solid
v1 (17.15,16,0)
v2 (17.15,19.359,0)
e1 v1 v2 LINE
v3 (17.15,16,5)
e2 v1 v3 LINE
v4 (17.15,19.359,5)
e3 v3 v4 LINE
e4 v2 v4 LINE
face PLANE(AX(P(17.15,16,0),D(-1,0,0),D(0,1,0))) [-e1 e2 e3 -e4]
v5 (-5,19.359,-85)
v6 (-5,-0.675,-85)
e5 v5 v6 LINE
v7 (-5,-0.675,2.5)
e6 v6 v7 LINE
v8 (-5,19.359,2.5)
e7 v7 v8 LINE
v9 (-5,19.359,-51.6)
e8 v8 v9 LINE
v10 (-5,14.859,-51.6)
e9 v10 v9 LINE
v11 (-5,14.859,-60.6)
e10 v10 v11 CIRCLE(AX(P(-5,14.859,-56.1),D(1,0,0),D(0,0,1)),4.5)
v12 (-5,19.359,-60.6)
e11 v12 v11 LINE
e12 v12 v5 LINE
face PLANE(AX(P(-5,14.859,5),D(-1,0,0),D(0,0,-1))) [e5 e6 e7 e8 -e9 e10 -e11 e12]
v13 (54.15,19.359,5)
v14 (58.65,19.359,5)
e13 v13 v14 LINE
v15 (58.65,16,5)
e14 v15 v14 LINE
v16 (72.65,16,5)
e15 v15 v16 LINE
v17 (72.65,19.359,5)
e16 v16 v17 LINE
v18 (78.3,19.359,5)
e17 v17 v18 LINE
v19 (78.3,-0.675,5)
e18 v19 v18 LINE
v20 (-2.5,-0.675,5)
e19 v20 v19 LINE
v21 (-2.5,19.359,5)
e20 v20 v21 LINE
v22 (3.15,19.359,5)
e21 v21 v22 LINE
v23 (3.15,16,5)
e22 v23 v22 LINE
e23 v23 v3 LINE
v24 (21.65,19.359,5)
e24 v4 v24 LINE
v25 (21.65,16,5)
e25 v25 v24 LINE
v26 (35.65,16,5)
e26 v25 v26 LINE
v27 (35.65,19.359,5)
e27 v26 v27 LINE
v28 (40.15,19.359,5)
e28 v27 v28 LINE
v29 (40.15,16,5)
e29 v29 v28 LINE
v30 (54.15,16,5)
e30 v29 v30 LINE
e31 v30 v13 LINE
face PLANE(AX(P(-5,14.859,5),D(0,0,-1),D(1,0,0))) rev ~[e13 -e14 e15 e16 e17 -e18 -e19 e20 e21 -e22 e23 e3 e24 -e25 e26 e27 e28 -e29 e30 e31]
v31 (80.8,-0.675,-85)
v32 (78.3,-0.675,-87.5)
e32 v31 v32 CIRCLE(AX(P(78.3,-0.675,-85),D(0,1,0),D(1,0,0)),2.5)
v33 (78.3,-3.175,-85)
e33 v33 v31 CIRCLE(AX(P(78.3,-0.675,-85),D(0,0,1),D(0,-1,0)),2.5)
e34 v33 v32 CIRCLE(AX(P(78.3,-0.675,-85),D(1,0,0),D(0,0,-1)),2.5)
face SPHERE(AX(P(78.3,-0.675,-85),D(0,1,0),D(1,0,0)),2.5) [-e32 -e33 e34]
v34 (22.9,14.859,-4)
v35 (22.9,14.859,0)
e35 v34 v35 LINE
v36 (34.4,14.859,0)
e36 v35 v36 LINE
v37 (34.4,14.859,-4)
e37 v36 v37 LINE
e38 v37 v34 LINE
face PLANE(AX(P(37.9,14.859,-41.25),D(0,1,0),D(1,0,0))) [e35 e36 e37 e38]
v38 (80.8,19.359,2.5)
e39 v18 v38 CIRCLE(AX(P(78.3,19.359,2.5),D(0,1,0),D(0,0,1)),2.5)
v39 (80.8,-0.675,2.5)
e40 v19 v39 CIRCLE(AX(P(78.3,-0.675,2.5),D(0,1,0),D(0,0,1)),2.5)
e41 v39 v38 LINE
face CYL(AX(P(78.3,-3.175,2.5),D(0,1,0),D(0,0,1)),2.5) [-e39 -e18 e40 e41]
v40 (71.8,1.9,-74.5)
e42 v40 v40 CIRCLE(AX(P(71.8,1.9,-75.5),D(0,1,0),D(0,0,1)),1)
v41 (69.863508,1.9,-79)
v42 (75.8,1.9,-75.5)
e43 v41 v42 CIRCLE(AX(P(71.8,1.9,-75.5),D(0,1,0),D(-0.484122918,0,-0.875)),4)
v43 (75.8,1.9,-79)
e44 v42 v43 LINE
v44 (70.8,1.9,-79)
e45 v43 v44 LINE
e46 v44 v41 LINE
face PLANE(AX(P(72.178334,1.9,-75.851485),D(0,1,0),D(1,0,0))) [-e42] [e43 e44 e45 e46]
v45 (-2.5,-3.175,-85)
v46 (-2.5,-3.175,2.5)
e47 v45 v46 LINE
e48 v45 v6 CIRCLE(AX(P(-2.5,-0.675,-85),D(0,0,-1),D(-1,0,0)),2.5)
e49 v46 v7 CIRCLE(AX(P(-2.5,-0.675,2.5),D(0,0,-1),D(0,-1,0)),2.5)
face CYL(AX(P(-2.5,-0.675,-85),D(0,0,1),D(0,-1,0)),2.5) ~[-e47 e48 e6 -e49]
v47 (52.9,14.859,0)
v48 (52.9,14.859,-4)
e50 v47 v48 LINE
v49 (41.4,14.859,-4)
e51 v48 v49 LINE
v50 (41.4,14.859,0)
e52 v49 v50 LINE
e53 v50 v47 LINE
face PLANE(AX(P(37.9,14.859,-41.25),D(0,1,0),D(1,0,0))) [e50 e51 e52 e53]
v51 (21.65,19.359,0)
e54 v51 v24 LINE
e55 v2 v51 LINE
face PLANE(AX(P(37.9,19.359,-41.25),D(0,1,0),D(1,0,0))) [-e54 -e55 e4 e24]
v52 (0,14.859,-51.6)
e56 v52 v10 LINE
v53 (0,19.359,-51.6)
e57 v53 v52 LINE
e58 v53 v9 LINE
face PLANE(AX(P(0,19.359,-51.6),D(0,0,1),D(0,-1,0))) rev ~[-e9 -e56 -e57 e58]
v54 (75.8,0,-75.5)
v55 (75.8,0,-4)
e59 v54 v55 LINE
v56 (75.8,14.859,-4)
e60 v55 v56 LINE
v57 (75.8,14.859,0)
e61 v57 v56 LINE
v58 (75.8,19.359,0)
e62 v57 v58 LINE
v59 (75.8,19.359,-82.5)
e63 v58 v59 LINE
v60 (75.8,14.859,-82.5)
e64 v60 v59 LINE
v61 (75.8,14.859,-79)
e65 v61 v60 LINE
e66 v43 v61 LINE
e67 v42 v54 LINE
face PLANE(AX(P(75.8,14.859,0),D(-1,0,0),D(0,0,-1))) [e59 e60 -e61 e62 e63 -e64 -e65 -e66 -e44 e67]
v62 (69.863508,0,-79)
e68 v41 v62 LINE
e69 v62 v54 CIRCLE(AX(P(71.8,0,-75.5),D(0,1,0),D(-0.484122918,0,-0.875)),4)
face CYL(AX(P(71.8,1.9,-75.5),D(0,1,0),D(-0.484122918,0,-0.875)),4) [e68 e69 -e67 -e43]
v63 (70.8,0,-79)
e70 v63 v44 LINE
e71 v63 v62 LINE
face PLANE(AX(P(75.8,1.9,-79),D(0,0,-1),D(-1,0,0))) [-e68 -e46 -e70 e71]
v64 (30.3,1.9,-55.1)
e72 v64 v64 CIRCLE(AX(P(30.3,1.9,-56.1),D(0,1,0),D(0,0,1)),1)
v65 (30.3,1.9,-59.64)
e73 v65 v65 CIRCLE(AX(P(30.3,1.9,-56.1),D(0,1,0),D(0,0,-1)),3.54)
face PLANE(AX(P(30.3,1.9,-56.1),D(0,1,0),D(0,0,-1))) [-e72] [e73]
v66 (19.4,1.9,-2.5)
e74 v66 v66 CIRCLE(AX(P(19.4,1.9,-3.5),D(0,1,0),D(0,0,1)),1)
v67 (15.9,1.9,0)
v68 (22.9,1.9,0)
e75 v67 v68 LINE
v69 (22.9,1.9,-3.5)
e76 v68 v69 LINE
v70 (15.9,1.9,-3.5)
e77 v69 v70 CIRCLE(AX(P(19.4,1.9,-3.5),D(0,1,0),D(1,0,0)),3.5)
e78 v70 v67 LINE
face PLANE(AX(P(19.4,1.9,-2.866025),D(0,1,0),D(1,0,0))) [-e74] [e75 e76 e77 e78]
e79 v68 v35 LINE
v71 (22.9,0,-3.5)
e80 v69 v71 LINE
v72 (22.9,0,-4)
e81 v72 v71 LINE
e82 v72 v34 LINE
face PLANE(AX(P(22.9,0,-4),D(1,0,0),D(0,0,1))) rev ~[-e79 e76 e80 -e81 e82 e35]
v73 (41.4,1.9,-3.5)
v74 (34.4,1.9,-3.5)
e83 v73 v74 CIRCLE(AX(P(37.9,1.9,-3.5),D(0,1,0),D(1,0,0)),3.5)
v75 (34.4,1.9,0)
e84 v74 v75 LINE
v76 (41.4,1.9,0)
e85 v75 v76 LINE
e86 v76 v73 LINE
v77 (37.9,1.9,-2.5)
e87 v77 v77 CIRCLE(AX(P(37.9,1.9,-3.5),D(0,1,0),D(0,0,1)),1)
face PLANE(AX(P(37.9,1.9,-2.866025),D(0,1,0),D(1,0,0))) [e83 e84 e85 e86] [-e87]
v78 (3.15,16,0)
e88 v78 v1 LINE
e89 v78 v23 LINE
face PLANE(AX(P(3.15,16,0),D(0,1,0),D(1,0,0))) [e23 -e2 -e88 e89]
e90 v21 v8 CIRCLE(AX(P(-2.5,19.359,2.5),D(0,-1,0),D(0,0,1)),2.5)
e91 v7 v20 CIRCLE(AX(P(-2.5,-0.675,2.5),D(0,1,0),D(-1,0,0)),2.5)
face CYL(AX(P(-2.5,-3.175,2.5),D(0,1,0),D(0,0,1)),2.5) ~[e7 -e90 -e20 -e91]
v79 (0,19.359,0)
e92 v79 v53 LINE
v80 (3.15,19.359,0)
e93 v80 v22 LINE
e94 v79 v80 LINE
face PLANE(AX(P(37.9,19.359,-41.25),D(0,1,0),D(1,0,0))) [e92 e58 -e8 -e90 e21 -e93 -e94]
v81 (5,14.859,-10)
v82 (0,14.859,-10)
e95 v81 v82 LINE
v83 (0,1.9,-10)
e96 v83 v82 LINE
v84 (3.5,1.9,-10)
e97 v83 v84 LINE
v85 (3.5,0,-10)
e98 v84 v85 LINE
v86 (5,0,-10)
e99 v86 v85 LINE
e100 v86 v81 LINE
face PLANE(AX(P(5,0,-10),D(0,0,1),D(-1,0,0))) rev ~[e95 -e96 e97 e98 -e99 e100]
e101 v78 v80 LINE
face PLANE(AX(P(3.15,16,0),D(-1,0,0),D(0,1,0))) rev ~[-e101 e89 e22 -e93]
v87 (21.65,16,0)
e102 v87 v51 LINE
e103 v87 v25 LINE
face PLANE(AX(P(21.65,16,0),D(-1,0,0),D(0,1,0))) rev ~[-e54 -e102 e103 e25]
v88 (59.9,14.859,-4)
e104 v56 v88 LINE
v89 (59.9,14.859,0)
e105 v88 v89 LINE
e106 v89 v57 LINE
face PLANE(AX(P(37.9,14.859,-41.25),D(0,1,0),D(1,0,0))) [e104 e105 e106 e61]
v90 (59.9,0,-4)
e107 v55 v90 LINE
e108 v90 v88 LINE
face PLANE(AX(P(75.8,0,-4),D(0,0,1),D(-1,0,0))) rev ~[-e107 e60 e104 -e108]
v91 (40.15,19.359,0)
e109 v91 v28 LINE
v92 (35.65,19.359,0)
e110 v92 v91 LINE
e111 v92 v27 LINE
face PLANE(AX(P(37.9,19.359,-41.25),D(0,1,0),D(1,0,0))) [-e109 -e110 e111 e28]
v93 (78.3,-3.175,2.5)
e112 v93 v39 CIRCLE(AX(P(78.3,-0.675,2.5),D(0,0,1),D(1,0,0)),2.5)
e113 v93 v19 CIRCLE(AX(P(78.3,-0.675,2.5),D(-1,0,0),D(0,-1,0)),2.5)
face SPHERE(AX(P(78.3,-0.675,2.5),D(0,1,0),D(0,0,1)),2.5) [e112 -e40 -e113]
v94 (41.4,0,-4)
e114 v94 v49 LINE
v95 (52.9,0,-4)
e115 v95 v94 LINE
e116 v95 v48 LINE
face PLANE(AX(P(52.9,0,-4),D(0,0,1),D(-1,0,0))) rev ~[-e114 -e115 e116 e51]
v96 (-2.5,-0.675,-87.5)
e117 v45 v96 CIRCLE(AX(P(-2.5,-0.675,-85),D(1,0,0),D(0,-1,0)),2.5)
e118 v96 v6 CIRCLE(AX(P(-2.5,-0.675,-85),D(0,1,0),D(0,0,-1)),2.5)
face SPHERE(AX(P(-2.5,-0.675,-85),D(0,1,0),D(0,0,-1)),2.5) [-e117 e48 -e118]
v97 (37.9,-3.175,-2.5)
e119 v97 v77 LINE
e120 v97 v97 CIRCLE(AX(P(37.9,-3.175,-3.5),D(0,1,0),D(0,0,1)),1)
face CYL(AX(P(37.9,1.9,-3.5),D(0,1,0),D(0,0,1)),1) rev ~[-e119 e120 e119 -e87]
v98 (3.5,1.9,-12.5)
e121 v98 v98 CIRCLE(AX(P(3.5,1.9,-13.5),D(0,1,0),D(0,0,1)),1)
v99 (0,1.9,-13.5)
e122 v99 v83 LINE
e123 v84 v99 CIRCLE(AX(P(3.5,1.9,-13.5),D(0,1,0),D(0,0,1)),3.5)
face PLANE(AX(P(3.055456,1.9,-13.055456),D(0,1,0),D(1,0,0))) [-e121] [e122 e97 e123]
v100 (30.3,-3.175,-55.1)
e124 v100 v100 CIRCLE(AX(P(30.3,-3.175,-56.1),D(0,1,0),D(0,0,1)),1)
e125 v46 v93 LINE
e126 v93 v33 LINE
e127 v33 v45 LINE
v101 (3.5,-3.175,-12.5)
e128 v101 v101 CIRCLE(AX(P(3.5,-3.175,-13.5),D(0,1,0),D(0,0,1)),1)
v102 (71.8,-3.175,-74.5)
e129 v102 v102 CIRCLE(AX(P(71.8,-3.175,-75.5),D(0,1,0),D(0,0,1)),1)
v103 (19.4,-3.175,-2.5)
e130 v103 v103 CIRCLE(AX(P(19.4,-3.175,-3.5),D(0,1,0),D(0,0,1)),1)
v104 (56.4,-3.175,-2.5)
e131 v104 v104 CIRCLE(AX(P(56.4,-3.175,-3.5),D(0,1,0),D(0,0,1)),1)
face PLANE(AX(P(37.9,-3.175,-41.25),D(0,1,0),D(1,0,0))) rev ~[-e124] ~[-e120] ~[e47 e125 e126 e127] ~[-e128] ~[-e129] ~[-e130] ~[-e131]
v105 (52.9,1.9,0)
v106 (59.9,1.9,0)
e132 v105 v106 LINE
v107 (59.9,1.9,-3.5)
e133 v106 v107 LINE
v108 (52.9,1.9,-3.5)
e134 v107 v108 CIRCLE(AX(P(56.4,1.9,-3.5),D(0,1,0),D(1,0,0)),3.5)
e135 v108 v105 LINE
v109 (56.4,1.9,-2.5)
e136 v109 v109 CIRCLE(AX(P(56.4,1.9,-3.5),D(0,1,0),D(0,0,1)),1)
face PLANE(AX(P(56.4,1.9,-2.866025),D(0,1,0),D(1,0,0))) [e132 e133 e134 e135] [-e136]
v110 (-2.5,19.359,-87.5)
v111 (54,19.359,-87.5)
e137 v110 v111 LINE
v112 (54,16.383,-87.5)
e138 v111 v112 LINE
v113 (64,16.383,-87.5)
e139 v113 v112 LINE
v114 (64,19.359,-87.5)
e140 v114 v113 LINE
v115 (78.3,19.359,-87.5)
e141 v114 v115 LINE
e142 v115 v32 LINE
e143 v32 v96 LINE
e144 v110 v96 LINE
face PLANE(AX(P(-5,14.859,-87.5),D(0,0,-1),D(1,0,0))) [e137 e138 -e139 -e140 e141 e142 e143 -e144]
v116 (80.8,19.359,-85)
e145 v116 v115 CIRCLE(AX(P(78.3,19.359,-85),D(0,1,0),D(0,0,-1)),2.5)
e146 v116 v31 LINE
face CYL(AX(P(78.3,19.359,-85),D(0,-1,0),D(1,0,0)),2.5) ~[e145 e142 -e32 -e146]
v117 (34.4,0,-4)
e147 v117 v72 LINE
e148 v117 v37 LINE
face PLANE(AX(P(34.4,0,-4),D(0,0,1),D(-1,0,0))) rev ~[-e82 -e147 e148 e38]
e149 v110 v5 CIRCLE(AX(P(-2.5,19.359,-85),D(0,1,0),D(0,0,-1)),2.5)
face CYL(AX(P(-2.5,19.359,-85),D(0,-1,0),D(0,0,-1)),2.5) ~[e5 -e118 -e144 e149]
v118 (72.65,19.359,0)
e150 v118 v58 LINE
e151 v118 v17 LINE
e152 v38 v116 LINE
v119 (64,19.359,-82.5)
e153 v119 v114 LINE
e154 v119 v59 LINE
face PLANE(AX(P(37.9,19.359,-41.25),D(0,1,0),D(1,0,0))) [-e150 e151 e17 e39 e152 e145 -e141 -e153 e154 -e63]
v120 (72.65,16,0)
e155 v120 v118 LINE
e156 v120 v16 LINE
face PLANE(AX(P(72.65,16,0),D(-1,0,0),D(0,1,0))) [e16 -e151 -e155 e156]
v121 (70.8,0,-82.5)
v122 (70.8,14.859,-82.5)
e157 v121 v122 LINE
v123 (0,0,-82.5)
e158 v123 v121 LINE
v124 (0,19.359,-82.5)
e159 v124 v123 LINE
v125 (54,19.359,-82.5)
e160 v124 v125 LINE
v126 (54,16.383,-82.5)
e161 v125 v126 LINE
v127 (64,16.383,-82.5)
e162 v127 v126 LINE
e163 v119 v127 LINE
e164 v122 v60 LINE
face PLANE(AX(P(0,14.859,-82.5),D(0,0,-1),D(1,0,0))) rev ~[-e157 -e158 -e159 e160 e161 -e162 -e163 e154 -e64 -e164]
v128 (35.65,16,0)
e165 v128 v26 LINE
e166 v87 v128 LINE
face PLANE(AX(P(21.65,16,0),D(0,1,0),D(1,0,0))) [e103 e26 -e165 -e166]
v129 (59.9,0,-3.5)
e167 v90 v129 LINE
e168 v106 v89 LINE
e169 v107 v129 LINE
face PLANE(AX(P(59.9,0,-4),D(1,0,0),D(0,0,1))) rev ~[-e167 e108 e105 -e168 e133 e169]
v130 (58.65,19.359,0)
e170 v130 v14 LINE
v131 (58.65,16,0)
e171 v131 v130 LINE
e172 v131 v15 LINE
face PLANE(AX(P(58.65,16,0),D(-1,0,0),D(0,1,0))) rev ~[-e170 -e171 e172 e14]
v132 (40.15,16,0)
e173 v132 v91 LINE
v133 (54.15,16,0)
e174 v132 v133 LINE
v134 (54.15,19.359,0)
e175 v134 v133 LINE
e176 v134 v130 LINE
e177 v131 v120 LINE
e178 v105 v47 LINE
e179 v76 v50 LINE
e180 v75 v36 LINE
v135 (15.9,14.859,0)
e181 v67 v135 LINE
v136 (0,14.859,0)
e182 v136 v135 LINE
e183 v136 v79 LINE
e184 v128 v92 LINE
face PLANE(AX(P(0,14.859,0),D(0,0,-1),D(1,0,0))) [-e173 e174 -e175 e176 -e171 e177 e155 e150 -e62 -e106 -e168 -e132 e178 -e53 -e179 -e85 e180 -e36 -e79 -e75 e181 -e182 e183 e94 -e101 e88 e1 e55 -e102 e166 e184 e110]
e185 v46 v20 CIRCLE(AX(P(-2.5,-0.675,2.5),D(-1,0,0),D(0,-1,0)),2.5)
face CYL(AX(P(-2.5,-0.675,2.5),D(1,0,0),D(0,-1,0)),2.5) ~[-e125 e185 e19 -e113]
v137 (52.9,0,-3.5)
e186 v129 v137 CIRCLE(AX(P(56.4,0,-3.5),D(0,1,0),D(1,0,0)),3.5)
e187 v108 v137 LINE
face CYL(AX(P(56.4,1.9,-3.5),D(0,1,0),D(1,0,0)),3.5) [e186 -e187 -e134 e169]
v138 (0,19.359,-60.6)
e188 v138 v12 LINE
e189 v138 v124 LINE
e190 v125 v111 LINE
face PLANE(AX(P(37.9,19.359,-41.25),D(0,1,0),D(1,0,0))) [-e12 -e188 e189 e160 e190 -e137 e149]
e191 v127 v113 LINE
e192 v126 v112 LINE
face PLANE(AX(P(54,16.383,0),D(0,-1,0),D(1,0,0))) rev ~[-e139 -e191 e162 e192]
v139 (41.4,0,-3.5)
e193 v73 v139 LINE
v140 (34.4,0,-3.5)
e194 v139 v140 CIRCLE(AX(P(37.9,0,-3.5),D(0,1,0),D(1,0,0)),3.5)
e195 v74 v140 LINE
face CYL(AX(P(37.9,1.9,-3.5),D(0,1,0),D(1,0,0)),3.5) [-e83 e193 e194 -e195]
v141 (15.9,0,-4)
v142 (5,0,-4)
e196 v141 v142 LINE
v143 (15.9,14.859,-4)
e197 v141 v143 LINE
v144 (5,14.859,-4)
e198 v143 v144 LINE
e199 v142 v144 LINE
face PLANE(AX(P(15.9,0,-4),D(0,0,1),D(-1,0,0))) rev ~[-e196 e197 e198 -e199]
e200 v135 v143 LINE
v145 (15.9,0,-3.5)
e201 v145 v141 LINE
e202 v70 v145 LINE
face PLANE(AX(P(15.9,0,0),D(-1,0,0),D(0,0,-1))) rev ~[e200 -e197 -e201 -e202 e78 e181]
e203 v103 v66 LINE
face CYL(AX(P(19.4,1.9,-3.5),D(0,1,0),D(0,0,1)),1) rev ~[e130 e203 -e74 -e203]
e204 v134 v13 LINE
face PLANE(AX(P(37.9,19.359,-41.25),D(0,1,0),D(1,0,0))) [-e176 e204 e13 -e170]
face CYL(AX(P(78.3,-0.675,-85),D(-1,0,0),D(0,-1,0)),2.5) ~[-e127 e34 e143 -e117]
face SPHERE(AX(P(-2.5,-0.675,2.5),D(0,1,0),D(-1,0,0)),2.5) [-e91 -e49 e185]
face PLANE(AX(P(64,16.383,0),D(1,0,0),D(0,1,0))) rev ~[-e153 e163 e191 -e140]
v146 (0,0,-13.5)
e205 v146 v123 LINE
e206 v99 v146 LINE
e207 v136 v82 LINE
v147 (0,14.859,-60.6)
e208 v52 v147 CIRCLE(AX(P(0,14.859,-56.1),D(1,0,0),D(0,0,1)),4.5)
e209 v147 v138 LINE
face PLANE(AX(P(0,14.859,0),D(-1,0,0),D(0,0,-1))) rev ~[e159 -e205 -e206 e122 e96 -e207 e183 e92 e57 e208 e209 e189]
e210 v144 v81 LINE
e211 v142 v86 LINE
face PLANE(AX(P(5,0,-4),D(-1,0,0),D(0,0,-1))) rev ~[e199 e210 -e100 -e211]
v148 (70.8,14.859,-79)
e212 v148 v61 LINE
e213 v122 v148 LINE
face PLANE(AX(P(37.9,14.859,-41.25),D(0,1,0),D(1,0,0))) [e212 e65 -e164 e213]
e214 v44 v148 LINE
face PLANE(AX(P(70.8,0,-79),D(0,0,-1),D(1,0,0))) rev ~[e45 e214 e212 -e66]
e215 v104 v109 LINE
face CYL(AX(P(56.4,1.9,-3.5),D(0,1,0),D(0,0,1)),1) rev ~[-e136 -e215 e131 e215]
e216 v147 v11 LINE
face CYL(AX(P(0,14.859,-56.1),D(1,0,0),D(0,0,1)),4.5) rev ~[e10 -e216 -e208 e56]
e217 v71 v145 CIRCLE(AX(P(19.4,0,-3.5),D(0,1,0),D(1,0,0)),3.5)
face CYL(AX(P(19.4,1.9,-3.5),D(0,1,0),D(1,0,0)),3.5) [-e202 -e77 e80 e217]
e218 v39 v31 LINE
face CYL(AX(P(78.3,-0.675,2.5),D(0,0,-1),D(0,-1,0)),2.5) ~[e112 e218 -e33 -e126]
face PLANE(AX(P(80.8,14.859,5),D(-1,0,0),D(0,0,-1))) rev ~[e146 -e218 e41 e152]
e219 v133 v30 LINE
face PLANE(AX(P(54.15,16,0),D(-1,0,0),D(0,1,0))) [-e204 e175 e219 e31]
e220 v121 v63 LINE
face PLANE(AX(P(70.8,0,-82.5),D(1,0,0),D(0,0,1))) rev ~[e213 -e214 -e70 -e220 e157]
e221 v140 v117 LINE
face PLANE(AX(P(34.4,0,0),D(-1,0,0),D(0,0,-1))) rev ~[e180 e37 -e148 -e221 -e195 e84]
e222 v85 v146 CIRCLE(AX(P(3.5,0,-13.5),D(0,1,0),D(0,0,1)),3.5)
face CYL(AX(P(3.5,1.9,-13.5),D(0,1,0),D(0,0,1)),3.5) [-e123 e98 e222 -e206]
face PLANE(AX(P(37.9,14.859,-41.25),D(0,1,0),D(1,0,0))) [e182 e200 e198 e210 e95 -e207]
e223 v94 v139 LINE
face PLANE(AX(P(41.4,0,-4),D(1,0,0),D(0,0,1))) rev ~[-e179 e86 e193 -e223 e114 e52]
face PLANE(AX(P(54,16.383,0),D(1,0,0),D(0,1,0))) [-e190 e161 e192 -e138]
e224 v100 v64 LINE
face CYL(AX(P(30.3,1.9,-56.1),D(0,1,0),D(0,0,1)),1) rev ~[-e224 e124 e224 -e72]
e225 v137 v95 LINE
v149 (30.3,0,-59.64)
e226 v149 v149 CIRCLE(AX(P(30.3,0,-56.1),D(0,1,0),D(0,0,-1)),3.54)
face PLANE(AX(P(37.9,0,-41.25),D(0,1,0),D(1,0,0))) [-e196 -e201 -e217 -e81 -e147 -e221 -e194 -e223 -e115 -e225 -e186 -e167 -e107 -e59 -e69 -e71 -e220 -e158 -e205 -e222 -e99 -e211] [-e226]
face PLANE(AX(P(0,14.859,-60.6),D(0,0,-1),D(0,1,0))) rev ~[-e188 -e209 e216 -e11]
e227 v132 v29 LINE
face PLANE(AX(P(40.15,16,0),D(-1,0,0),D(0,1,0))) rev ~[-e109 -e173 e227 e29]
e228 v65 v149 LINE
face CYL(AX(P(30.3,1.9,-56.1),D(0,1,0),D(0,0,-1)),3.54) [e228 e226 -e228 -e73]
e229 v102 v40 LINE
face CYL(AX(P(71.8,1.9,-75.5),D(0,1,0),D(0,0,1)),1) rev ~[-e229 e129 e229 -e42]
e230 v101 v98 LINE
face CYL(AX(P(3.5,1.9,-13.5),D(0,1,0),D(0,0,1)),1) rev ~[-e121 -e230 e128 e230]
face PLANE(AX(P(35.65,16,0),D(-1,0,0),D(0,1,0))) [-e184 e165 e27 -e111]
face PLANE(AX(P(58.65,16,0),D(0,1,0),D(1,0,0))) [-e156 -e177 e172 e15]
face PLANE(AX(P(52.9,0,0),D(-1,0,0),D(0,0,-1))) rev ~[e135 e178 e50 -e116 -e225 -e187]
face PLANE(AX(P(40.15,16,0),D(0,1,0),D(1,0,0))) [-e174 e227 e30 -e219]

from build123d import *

# Parameters (mm, degrees)
SKETCH1_W           = 85.8
SKETCH1_H           = 92.5
BOSS_EXTRUDE1_DEPTH = 14.859
SKETCH2_W           = 85.8
SKETCH2_H           = 92.5
SKETCH2_R           = 1
BOSS_EXTRUDE2_DEPTH = 3.175
SKETCH4_W           = 85.8
SKETCH4_H           = 92.5
SKETCH4_W_2         = 75.8
SKETCH4_H_2         = 82.5
BOSS_EXTRUDE3_DEPTH = 4.5
CUT_EXTRUDE1_DEPTH  = 121.663419813
SKETCH5_W           = 14
SKETCH5_H           = 8
CUT_EXTRUDE2_DEPTH  = 121.663419813
SKETCH6_W           = 10
SKETCH6_H           = 6
CUT_EXTRUDE3_DEPTH  = 121.663419813
BOSS_EXTRUDE4_START = 1.9
SKETCH7_R           = 3.54
SKETCH7_R_2         = 1
BOSS_EXTRUDE4_DEPTH = 1.9
FILLET1_R           = 2.5
FILLET2_R           = 2.5
FILLET3_R           = 2.5
FILLET4_R           = 2.5
FILLET5_R           = 2.5


with BuildPart() as part:
    # Sketch1 → Boss-Extrude1 (new body)
    with BuildSketch(Plane(origin=(0, 0, 0), x_dir=(1, 0, 0), z_dir=(0, 1, 0))):
        with Locations((37.9, 41.25)):
            Rectangle(SKETCH1_W, SKETCH1_H)
        Polygon((5, 4), (5, 10), (0, 10), (0, 82.5), (70.8, 82.5), (70.8, 79), (75.8, 79), (75.8, 4), (59.9, 4), (59.9, 0), (52.9, 0), (52.9, 4), (41.4, 4), (41.4, 0), (34.4, 0), (34.4, 4), (22.9, 4), (22.9, 0), (15.9, 0), (15.9, 4), align=None, mode=Mode.SUBTRACT)
    extrude(amount=BOSS_EXTRUDE1_DEPTH)

    # Sketch2 → Boss-Extrude2 (add)
    with BuildSketch(Plane(origin=(0, 0, 0), x_dir=(1, 0, 0), z_dir=(0, 1, 0))):
        with Locations((37.9, 41.25)):
            Rectangle(SKETCH2_W, SKETCH2_H)
        with Locations(Location((3.5, 13.5, 0), (0, 0, 270))):
            Circle(SKETCH2_R, mode=Mode.SUBTRACT)
        with Locations(Location((19.4, 3.5, 0), (0, 0, 270))):
            Circle(SKETCH2_R, mode=Mode.SUBTRACT)
        with Locations(Location((37.9, 3.5, 0), (0, 0, 270))):
            Circle(SKETCH2_R, mode=Mode.SUBTRACT)
        with Locations(Location((56.4, 3.5, 0), (0, 0, 270))):
            Circle(SKETCH2_R, mode=Mode.SUBTRACT)
        with Locations(Location((30.3, 56.1, 0), (0, 0, 270))):
            Circle(SKETCH2_R, mode=Mode.SUBTRACT)
        with Locations(Location((71.8, 75.5, 0), (0, 0, 270))):
            Circle(SKETCH2_R, mode=Mode.SUBTRACT)
    extrude(amount=-BOSS_EXTRUDE2_DEPTH)

    # Sketch4 → Boss-Extrude3 (add)
    with BuildSketch(Plane(origin=(0, 14.859, 0), x_dir=(1, 0, 0), z_dir=(0, 1, 0))):
        with Locations((37.9, 41.25)):
            Rectangle(SKETCH4_W, SKETCH4_H)
        with Locations((37.9, 41.25)):
            Rectangle(SKETCH4_W_2, SKETCH4_H_2, mode=Mode.SUBTRACT)
    extrude(amount=BOSS_EXTRUDE3_DEPTH)

    # Sketch3 → Cut-Extrude1 (cut, through all)
    with BuildSketch(Plane(origin=(0, 0, 0), x_dir=(0, 0, -1), z_dir=(1, 0, 0))):
        with BuildLine():
            Line((60.6, 14.859), (60.6, 19.359))
            Line((60.6, 19.359), (51.6, 19.359))
            Line((51.6, 19.359), (51.6, 14.859))
            ThreePointArc((51.6, 14.859), (56.1, 10.359), (60.6, 14.859))
        make_face()
    extrude(amount=-CUT_EXTRUDE1_DEPTH, mode=Mode.SUBTRACT)

    # Sketch5 → Cut-Extrude2 (cut, through all)
    with BuildSketch(Plane.XY):
        with Locations((10.15, 20)):
            Rectangle(SKETCH5_W, SKETCH5_H)
        with Locations((28.65, 20)):
            Rectangle(SKETCH5_W, SKETCH5_H)
        with Locations((47.15, 20)):
            Rectangle(SKETCH5_W, SKETCH5_H)
        with Locations((65.65, 20)):
            Rectangle(SKETCH5_W, SKETCH5_H)
    extrude(amount=CUT_EXTRUDE2_DEPTH, mode=Mode.SUBTRACT)

    # Sketch6 → Cut-Extrude3 (cut, through all)
    with BuildSketch(Plane.XY):
        with Locations((59, 19.383)):
            Rectangle(SKETCH6_W, SKETCH6_H)
    extrude(amount=-CUT_EXTRUDE3_DEPTH, mode=Mode.SUBTRACT)

    # Sketch7 → Boss-Extrude4 (add)
    # profile 1 of 6: a face of its own
    with BuildSketch(Plane(origin=(0, 0, 0), x_dir=(1, 0, 0), z_dir=(0, 1, 0)).offset(BOSS_EXTRUDE4_START)):
        with Locations(Location((30.3, 56.1, 0), (0, 0, 90))):
            Circle(SKETCH7_R)
        with Locations(Location((30.3, 56.1, 0), (0, 0, 270))):
            Circle(SKETCH7_R_2, mode=Mode.SUBTRACT)
    # profile 2 of 6: a face of its own
    with BuildSketch(Plane(origin=(0, 0, 0), x_dir=(1, 0, 0), z_dir=(0, 1, 0)).offset(BOSS_EXTRUDE4_START)):
        with BuildLine():
            Line((0, 13.5), (0, 10))
            Line((0, 10), (3.5, 10))
            ThreePointArc((3.5, 10), (5.974873734, 15.974873734), (0, 13.5))
        make_face()
        with Locations(Location((3.5, 13.5, 0), (0, 0, 270))):
            Circle(SKETCH7_R_2, mode=Mode.SUBTRACT)
    # profile 3 of 6: a face of its own
    with BuildSketch(Plane(origin=(0, 0, 0), x_dir=(1, 0, 0), z_dir=(0, 1, 0)).offset(BOSS_EXTRUDE4_START)):
        with BuildLine():
            Line((15.9, 3.5), (15.9, 0))
            Line((15.9, 0), (22.9, 0))
            Line((22.9, 0), (22.9, 3.5))
            ThreePointArc((22.9, 3.5), (19.4, 7), (15.9, 3.5))
        make_face()
        with Locations(Location((19.4, 3.5, 0), (0, 0, 270))):
            Circle(SKETCH7_R_2, mode=Mode.SUBTRACT)
    # profile 4 of 6: a face of its own
    with BuildSketch(Plane(origin=(0, 0, 0), x_dir=(1, 0, 0), z_dir=(0, 1, 0)).offset(BOSS_EXTRUDE4_START)):
        with BuildLine():
            Line((34.4, 3.5), (34.4, 0))
            Line((34.4, 0), (41.4, 0))
            Line((41.4, 0), (41.4, 3.5))
            ThreePointArc((41.4, 3.5), (37.9, 7), (34.4, 3.5))
        make_face()
        with Locations(Location((37.9, 3.5, 0), (0, 0, 270))):
            Circle(SKETCH7_R_2, mode=Mode.SUBTRACT)
    # profile 5 of 6: a face of its own
    with BuildSketch(Plane(origin=(0, 0, 0), x_dir=(1, 0, 0), z_dir=(0, 1, 0)).offset(BOSS_EXTRUDE4_START)):
        with BuildLine():
            Line((52.9, 3.5), (52.9, 0))
            Line((52.9, 0), (59.9, 0))
            Line((59.9, 0), (59.9, 3.5))
            ThreePointArc((59.9, 3.5), (56.4, 7), (52.9, 3.5))
        make_face()
        with Locations(Location((56.4, 3.5, 0), (0, 0, 270))):
            Circle(SKETCH7_R_2, mode=Mode.SUBTRACT)
    # profile 6 of 6: a face of its own
    with BuildSketch(Plane(origin=(0, 0, 0), x_dir=(1, 0, 0), z_dir=(0, 1, 0)).offset(BOSS_EXTRUDE4_START)):
        with BuildLine():
            Line((75.8, 79), (69.863508327, 79))
            ThreePointArc((69.863508327, 79), (69.768493994, 72.054280431), (75.8, 75.5))
            Line((75.8, 75.5), (75.8, 79))
        make_face()
        with Locations(Location((71.8, 75.5, 0), (0, 0, 270))):
            Circle(SKETCH7_R_2, mode=Mode.SUBTRACT)
    extrude(amount=-BOSS_EXTRUDE4_DEPTH)

    # Fillet1
    fillet1_edges = [part.edges().sort_by_distance(p)[0] for p in [
        (-5, 8.092, 5),
    ]]
    fillet(fillet1_edges, radius=FILLET1_R)

    # Fillet2
    fillet2_edges = [part.edges().sort_by_distance(p)[0] for p in [
        (80.8, 8.092, 5),
    ]]
    fillet(fillet2_edges, radius=FILLET2_R)

    # Fillet3
    fillet3_edges = [part.edges().sort_by_distance(p)[0] for p in [
        (80.8, 8.092, -87.5),
    ]]
    fillet(fillet3_edges, radius=FILLET3_R)

    # Fillet4
    fillet4_edges = [part.edges().sort_by_distance(p)[0] for p in [
        (-5, 8.092, -87.5),
    ]]
    fillet(fillet4_edges, radius=FILLET4_R)

    # Fillet5
    fillet5_edges = [part.edges().sort_by_distance(p)[0] for p in [
        (37.9, -3.175, 5),
        (-4.267766953, -3.175, 4.267766953),
        (80.8, -3.175, -41.25),
        (80.067766953, -3.175, 4.267766953),
        (37.9, -3.175, -87.5),
        (80.067766953, -3.175, -86.767766953),
        (-5, -3.175, -41.25),
        (-4.267766953, -3.175, -86.767766953),
    ]]
    fillet(fillet5_edges, radius=FILLET5_R)


solid = part.part
